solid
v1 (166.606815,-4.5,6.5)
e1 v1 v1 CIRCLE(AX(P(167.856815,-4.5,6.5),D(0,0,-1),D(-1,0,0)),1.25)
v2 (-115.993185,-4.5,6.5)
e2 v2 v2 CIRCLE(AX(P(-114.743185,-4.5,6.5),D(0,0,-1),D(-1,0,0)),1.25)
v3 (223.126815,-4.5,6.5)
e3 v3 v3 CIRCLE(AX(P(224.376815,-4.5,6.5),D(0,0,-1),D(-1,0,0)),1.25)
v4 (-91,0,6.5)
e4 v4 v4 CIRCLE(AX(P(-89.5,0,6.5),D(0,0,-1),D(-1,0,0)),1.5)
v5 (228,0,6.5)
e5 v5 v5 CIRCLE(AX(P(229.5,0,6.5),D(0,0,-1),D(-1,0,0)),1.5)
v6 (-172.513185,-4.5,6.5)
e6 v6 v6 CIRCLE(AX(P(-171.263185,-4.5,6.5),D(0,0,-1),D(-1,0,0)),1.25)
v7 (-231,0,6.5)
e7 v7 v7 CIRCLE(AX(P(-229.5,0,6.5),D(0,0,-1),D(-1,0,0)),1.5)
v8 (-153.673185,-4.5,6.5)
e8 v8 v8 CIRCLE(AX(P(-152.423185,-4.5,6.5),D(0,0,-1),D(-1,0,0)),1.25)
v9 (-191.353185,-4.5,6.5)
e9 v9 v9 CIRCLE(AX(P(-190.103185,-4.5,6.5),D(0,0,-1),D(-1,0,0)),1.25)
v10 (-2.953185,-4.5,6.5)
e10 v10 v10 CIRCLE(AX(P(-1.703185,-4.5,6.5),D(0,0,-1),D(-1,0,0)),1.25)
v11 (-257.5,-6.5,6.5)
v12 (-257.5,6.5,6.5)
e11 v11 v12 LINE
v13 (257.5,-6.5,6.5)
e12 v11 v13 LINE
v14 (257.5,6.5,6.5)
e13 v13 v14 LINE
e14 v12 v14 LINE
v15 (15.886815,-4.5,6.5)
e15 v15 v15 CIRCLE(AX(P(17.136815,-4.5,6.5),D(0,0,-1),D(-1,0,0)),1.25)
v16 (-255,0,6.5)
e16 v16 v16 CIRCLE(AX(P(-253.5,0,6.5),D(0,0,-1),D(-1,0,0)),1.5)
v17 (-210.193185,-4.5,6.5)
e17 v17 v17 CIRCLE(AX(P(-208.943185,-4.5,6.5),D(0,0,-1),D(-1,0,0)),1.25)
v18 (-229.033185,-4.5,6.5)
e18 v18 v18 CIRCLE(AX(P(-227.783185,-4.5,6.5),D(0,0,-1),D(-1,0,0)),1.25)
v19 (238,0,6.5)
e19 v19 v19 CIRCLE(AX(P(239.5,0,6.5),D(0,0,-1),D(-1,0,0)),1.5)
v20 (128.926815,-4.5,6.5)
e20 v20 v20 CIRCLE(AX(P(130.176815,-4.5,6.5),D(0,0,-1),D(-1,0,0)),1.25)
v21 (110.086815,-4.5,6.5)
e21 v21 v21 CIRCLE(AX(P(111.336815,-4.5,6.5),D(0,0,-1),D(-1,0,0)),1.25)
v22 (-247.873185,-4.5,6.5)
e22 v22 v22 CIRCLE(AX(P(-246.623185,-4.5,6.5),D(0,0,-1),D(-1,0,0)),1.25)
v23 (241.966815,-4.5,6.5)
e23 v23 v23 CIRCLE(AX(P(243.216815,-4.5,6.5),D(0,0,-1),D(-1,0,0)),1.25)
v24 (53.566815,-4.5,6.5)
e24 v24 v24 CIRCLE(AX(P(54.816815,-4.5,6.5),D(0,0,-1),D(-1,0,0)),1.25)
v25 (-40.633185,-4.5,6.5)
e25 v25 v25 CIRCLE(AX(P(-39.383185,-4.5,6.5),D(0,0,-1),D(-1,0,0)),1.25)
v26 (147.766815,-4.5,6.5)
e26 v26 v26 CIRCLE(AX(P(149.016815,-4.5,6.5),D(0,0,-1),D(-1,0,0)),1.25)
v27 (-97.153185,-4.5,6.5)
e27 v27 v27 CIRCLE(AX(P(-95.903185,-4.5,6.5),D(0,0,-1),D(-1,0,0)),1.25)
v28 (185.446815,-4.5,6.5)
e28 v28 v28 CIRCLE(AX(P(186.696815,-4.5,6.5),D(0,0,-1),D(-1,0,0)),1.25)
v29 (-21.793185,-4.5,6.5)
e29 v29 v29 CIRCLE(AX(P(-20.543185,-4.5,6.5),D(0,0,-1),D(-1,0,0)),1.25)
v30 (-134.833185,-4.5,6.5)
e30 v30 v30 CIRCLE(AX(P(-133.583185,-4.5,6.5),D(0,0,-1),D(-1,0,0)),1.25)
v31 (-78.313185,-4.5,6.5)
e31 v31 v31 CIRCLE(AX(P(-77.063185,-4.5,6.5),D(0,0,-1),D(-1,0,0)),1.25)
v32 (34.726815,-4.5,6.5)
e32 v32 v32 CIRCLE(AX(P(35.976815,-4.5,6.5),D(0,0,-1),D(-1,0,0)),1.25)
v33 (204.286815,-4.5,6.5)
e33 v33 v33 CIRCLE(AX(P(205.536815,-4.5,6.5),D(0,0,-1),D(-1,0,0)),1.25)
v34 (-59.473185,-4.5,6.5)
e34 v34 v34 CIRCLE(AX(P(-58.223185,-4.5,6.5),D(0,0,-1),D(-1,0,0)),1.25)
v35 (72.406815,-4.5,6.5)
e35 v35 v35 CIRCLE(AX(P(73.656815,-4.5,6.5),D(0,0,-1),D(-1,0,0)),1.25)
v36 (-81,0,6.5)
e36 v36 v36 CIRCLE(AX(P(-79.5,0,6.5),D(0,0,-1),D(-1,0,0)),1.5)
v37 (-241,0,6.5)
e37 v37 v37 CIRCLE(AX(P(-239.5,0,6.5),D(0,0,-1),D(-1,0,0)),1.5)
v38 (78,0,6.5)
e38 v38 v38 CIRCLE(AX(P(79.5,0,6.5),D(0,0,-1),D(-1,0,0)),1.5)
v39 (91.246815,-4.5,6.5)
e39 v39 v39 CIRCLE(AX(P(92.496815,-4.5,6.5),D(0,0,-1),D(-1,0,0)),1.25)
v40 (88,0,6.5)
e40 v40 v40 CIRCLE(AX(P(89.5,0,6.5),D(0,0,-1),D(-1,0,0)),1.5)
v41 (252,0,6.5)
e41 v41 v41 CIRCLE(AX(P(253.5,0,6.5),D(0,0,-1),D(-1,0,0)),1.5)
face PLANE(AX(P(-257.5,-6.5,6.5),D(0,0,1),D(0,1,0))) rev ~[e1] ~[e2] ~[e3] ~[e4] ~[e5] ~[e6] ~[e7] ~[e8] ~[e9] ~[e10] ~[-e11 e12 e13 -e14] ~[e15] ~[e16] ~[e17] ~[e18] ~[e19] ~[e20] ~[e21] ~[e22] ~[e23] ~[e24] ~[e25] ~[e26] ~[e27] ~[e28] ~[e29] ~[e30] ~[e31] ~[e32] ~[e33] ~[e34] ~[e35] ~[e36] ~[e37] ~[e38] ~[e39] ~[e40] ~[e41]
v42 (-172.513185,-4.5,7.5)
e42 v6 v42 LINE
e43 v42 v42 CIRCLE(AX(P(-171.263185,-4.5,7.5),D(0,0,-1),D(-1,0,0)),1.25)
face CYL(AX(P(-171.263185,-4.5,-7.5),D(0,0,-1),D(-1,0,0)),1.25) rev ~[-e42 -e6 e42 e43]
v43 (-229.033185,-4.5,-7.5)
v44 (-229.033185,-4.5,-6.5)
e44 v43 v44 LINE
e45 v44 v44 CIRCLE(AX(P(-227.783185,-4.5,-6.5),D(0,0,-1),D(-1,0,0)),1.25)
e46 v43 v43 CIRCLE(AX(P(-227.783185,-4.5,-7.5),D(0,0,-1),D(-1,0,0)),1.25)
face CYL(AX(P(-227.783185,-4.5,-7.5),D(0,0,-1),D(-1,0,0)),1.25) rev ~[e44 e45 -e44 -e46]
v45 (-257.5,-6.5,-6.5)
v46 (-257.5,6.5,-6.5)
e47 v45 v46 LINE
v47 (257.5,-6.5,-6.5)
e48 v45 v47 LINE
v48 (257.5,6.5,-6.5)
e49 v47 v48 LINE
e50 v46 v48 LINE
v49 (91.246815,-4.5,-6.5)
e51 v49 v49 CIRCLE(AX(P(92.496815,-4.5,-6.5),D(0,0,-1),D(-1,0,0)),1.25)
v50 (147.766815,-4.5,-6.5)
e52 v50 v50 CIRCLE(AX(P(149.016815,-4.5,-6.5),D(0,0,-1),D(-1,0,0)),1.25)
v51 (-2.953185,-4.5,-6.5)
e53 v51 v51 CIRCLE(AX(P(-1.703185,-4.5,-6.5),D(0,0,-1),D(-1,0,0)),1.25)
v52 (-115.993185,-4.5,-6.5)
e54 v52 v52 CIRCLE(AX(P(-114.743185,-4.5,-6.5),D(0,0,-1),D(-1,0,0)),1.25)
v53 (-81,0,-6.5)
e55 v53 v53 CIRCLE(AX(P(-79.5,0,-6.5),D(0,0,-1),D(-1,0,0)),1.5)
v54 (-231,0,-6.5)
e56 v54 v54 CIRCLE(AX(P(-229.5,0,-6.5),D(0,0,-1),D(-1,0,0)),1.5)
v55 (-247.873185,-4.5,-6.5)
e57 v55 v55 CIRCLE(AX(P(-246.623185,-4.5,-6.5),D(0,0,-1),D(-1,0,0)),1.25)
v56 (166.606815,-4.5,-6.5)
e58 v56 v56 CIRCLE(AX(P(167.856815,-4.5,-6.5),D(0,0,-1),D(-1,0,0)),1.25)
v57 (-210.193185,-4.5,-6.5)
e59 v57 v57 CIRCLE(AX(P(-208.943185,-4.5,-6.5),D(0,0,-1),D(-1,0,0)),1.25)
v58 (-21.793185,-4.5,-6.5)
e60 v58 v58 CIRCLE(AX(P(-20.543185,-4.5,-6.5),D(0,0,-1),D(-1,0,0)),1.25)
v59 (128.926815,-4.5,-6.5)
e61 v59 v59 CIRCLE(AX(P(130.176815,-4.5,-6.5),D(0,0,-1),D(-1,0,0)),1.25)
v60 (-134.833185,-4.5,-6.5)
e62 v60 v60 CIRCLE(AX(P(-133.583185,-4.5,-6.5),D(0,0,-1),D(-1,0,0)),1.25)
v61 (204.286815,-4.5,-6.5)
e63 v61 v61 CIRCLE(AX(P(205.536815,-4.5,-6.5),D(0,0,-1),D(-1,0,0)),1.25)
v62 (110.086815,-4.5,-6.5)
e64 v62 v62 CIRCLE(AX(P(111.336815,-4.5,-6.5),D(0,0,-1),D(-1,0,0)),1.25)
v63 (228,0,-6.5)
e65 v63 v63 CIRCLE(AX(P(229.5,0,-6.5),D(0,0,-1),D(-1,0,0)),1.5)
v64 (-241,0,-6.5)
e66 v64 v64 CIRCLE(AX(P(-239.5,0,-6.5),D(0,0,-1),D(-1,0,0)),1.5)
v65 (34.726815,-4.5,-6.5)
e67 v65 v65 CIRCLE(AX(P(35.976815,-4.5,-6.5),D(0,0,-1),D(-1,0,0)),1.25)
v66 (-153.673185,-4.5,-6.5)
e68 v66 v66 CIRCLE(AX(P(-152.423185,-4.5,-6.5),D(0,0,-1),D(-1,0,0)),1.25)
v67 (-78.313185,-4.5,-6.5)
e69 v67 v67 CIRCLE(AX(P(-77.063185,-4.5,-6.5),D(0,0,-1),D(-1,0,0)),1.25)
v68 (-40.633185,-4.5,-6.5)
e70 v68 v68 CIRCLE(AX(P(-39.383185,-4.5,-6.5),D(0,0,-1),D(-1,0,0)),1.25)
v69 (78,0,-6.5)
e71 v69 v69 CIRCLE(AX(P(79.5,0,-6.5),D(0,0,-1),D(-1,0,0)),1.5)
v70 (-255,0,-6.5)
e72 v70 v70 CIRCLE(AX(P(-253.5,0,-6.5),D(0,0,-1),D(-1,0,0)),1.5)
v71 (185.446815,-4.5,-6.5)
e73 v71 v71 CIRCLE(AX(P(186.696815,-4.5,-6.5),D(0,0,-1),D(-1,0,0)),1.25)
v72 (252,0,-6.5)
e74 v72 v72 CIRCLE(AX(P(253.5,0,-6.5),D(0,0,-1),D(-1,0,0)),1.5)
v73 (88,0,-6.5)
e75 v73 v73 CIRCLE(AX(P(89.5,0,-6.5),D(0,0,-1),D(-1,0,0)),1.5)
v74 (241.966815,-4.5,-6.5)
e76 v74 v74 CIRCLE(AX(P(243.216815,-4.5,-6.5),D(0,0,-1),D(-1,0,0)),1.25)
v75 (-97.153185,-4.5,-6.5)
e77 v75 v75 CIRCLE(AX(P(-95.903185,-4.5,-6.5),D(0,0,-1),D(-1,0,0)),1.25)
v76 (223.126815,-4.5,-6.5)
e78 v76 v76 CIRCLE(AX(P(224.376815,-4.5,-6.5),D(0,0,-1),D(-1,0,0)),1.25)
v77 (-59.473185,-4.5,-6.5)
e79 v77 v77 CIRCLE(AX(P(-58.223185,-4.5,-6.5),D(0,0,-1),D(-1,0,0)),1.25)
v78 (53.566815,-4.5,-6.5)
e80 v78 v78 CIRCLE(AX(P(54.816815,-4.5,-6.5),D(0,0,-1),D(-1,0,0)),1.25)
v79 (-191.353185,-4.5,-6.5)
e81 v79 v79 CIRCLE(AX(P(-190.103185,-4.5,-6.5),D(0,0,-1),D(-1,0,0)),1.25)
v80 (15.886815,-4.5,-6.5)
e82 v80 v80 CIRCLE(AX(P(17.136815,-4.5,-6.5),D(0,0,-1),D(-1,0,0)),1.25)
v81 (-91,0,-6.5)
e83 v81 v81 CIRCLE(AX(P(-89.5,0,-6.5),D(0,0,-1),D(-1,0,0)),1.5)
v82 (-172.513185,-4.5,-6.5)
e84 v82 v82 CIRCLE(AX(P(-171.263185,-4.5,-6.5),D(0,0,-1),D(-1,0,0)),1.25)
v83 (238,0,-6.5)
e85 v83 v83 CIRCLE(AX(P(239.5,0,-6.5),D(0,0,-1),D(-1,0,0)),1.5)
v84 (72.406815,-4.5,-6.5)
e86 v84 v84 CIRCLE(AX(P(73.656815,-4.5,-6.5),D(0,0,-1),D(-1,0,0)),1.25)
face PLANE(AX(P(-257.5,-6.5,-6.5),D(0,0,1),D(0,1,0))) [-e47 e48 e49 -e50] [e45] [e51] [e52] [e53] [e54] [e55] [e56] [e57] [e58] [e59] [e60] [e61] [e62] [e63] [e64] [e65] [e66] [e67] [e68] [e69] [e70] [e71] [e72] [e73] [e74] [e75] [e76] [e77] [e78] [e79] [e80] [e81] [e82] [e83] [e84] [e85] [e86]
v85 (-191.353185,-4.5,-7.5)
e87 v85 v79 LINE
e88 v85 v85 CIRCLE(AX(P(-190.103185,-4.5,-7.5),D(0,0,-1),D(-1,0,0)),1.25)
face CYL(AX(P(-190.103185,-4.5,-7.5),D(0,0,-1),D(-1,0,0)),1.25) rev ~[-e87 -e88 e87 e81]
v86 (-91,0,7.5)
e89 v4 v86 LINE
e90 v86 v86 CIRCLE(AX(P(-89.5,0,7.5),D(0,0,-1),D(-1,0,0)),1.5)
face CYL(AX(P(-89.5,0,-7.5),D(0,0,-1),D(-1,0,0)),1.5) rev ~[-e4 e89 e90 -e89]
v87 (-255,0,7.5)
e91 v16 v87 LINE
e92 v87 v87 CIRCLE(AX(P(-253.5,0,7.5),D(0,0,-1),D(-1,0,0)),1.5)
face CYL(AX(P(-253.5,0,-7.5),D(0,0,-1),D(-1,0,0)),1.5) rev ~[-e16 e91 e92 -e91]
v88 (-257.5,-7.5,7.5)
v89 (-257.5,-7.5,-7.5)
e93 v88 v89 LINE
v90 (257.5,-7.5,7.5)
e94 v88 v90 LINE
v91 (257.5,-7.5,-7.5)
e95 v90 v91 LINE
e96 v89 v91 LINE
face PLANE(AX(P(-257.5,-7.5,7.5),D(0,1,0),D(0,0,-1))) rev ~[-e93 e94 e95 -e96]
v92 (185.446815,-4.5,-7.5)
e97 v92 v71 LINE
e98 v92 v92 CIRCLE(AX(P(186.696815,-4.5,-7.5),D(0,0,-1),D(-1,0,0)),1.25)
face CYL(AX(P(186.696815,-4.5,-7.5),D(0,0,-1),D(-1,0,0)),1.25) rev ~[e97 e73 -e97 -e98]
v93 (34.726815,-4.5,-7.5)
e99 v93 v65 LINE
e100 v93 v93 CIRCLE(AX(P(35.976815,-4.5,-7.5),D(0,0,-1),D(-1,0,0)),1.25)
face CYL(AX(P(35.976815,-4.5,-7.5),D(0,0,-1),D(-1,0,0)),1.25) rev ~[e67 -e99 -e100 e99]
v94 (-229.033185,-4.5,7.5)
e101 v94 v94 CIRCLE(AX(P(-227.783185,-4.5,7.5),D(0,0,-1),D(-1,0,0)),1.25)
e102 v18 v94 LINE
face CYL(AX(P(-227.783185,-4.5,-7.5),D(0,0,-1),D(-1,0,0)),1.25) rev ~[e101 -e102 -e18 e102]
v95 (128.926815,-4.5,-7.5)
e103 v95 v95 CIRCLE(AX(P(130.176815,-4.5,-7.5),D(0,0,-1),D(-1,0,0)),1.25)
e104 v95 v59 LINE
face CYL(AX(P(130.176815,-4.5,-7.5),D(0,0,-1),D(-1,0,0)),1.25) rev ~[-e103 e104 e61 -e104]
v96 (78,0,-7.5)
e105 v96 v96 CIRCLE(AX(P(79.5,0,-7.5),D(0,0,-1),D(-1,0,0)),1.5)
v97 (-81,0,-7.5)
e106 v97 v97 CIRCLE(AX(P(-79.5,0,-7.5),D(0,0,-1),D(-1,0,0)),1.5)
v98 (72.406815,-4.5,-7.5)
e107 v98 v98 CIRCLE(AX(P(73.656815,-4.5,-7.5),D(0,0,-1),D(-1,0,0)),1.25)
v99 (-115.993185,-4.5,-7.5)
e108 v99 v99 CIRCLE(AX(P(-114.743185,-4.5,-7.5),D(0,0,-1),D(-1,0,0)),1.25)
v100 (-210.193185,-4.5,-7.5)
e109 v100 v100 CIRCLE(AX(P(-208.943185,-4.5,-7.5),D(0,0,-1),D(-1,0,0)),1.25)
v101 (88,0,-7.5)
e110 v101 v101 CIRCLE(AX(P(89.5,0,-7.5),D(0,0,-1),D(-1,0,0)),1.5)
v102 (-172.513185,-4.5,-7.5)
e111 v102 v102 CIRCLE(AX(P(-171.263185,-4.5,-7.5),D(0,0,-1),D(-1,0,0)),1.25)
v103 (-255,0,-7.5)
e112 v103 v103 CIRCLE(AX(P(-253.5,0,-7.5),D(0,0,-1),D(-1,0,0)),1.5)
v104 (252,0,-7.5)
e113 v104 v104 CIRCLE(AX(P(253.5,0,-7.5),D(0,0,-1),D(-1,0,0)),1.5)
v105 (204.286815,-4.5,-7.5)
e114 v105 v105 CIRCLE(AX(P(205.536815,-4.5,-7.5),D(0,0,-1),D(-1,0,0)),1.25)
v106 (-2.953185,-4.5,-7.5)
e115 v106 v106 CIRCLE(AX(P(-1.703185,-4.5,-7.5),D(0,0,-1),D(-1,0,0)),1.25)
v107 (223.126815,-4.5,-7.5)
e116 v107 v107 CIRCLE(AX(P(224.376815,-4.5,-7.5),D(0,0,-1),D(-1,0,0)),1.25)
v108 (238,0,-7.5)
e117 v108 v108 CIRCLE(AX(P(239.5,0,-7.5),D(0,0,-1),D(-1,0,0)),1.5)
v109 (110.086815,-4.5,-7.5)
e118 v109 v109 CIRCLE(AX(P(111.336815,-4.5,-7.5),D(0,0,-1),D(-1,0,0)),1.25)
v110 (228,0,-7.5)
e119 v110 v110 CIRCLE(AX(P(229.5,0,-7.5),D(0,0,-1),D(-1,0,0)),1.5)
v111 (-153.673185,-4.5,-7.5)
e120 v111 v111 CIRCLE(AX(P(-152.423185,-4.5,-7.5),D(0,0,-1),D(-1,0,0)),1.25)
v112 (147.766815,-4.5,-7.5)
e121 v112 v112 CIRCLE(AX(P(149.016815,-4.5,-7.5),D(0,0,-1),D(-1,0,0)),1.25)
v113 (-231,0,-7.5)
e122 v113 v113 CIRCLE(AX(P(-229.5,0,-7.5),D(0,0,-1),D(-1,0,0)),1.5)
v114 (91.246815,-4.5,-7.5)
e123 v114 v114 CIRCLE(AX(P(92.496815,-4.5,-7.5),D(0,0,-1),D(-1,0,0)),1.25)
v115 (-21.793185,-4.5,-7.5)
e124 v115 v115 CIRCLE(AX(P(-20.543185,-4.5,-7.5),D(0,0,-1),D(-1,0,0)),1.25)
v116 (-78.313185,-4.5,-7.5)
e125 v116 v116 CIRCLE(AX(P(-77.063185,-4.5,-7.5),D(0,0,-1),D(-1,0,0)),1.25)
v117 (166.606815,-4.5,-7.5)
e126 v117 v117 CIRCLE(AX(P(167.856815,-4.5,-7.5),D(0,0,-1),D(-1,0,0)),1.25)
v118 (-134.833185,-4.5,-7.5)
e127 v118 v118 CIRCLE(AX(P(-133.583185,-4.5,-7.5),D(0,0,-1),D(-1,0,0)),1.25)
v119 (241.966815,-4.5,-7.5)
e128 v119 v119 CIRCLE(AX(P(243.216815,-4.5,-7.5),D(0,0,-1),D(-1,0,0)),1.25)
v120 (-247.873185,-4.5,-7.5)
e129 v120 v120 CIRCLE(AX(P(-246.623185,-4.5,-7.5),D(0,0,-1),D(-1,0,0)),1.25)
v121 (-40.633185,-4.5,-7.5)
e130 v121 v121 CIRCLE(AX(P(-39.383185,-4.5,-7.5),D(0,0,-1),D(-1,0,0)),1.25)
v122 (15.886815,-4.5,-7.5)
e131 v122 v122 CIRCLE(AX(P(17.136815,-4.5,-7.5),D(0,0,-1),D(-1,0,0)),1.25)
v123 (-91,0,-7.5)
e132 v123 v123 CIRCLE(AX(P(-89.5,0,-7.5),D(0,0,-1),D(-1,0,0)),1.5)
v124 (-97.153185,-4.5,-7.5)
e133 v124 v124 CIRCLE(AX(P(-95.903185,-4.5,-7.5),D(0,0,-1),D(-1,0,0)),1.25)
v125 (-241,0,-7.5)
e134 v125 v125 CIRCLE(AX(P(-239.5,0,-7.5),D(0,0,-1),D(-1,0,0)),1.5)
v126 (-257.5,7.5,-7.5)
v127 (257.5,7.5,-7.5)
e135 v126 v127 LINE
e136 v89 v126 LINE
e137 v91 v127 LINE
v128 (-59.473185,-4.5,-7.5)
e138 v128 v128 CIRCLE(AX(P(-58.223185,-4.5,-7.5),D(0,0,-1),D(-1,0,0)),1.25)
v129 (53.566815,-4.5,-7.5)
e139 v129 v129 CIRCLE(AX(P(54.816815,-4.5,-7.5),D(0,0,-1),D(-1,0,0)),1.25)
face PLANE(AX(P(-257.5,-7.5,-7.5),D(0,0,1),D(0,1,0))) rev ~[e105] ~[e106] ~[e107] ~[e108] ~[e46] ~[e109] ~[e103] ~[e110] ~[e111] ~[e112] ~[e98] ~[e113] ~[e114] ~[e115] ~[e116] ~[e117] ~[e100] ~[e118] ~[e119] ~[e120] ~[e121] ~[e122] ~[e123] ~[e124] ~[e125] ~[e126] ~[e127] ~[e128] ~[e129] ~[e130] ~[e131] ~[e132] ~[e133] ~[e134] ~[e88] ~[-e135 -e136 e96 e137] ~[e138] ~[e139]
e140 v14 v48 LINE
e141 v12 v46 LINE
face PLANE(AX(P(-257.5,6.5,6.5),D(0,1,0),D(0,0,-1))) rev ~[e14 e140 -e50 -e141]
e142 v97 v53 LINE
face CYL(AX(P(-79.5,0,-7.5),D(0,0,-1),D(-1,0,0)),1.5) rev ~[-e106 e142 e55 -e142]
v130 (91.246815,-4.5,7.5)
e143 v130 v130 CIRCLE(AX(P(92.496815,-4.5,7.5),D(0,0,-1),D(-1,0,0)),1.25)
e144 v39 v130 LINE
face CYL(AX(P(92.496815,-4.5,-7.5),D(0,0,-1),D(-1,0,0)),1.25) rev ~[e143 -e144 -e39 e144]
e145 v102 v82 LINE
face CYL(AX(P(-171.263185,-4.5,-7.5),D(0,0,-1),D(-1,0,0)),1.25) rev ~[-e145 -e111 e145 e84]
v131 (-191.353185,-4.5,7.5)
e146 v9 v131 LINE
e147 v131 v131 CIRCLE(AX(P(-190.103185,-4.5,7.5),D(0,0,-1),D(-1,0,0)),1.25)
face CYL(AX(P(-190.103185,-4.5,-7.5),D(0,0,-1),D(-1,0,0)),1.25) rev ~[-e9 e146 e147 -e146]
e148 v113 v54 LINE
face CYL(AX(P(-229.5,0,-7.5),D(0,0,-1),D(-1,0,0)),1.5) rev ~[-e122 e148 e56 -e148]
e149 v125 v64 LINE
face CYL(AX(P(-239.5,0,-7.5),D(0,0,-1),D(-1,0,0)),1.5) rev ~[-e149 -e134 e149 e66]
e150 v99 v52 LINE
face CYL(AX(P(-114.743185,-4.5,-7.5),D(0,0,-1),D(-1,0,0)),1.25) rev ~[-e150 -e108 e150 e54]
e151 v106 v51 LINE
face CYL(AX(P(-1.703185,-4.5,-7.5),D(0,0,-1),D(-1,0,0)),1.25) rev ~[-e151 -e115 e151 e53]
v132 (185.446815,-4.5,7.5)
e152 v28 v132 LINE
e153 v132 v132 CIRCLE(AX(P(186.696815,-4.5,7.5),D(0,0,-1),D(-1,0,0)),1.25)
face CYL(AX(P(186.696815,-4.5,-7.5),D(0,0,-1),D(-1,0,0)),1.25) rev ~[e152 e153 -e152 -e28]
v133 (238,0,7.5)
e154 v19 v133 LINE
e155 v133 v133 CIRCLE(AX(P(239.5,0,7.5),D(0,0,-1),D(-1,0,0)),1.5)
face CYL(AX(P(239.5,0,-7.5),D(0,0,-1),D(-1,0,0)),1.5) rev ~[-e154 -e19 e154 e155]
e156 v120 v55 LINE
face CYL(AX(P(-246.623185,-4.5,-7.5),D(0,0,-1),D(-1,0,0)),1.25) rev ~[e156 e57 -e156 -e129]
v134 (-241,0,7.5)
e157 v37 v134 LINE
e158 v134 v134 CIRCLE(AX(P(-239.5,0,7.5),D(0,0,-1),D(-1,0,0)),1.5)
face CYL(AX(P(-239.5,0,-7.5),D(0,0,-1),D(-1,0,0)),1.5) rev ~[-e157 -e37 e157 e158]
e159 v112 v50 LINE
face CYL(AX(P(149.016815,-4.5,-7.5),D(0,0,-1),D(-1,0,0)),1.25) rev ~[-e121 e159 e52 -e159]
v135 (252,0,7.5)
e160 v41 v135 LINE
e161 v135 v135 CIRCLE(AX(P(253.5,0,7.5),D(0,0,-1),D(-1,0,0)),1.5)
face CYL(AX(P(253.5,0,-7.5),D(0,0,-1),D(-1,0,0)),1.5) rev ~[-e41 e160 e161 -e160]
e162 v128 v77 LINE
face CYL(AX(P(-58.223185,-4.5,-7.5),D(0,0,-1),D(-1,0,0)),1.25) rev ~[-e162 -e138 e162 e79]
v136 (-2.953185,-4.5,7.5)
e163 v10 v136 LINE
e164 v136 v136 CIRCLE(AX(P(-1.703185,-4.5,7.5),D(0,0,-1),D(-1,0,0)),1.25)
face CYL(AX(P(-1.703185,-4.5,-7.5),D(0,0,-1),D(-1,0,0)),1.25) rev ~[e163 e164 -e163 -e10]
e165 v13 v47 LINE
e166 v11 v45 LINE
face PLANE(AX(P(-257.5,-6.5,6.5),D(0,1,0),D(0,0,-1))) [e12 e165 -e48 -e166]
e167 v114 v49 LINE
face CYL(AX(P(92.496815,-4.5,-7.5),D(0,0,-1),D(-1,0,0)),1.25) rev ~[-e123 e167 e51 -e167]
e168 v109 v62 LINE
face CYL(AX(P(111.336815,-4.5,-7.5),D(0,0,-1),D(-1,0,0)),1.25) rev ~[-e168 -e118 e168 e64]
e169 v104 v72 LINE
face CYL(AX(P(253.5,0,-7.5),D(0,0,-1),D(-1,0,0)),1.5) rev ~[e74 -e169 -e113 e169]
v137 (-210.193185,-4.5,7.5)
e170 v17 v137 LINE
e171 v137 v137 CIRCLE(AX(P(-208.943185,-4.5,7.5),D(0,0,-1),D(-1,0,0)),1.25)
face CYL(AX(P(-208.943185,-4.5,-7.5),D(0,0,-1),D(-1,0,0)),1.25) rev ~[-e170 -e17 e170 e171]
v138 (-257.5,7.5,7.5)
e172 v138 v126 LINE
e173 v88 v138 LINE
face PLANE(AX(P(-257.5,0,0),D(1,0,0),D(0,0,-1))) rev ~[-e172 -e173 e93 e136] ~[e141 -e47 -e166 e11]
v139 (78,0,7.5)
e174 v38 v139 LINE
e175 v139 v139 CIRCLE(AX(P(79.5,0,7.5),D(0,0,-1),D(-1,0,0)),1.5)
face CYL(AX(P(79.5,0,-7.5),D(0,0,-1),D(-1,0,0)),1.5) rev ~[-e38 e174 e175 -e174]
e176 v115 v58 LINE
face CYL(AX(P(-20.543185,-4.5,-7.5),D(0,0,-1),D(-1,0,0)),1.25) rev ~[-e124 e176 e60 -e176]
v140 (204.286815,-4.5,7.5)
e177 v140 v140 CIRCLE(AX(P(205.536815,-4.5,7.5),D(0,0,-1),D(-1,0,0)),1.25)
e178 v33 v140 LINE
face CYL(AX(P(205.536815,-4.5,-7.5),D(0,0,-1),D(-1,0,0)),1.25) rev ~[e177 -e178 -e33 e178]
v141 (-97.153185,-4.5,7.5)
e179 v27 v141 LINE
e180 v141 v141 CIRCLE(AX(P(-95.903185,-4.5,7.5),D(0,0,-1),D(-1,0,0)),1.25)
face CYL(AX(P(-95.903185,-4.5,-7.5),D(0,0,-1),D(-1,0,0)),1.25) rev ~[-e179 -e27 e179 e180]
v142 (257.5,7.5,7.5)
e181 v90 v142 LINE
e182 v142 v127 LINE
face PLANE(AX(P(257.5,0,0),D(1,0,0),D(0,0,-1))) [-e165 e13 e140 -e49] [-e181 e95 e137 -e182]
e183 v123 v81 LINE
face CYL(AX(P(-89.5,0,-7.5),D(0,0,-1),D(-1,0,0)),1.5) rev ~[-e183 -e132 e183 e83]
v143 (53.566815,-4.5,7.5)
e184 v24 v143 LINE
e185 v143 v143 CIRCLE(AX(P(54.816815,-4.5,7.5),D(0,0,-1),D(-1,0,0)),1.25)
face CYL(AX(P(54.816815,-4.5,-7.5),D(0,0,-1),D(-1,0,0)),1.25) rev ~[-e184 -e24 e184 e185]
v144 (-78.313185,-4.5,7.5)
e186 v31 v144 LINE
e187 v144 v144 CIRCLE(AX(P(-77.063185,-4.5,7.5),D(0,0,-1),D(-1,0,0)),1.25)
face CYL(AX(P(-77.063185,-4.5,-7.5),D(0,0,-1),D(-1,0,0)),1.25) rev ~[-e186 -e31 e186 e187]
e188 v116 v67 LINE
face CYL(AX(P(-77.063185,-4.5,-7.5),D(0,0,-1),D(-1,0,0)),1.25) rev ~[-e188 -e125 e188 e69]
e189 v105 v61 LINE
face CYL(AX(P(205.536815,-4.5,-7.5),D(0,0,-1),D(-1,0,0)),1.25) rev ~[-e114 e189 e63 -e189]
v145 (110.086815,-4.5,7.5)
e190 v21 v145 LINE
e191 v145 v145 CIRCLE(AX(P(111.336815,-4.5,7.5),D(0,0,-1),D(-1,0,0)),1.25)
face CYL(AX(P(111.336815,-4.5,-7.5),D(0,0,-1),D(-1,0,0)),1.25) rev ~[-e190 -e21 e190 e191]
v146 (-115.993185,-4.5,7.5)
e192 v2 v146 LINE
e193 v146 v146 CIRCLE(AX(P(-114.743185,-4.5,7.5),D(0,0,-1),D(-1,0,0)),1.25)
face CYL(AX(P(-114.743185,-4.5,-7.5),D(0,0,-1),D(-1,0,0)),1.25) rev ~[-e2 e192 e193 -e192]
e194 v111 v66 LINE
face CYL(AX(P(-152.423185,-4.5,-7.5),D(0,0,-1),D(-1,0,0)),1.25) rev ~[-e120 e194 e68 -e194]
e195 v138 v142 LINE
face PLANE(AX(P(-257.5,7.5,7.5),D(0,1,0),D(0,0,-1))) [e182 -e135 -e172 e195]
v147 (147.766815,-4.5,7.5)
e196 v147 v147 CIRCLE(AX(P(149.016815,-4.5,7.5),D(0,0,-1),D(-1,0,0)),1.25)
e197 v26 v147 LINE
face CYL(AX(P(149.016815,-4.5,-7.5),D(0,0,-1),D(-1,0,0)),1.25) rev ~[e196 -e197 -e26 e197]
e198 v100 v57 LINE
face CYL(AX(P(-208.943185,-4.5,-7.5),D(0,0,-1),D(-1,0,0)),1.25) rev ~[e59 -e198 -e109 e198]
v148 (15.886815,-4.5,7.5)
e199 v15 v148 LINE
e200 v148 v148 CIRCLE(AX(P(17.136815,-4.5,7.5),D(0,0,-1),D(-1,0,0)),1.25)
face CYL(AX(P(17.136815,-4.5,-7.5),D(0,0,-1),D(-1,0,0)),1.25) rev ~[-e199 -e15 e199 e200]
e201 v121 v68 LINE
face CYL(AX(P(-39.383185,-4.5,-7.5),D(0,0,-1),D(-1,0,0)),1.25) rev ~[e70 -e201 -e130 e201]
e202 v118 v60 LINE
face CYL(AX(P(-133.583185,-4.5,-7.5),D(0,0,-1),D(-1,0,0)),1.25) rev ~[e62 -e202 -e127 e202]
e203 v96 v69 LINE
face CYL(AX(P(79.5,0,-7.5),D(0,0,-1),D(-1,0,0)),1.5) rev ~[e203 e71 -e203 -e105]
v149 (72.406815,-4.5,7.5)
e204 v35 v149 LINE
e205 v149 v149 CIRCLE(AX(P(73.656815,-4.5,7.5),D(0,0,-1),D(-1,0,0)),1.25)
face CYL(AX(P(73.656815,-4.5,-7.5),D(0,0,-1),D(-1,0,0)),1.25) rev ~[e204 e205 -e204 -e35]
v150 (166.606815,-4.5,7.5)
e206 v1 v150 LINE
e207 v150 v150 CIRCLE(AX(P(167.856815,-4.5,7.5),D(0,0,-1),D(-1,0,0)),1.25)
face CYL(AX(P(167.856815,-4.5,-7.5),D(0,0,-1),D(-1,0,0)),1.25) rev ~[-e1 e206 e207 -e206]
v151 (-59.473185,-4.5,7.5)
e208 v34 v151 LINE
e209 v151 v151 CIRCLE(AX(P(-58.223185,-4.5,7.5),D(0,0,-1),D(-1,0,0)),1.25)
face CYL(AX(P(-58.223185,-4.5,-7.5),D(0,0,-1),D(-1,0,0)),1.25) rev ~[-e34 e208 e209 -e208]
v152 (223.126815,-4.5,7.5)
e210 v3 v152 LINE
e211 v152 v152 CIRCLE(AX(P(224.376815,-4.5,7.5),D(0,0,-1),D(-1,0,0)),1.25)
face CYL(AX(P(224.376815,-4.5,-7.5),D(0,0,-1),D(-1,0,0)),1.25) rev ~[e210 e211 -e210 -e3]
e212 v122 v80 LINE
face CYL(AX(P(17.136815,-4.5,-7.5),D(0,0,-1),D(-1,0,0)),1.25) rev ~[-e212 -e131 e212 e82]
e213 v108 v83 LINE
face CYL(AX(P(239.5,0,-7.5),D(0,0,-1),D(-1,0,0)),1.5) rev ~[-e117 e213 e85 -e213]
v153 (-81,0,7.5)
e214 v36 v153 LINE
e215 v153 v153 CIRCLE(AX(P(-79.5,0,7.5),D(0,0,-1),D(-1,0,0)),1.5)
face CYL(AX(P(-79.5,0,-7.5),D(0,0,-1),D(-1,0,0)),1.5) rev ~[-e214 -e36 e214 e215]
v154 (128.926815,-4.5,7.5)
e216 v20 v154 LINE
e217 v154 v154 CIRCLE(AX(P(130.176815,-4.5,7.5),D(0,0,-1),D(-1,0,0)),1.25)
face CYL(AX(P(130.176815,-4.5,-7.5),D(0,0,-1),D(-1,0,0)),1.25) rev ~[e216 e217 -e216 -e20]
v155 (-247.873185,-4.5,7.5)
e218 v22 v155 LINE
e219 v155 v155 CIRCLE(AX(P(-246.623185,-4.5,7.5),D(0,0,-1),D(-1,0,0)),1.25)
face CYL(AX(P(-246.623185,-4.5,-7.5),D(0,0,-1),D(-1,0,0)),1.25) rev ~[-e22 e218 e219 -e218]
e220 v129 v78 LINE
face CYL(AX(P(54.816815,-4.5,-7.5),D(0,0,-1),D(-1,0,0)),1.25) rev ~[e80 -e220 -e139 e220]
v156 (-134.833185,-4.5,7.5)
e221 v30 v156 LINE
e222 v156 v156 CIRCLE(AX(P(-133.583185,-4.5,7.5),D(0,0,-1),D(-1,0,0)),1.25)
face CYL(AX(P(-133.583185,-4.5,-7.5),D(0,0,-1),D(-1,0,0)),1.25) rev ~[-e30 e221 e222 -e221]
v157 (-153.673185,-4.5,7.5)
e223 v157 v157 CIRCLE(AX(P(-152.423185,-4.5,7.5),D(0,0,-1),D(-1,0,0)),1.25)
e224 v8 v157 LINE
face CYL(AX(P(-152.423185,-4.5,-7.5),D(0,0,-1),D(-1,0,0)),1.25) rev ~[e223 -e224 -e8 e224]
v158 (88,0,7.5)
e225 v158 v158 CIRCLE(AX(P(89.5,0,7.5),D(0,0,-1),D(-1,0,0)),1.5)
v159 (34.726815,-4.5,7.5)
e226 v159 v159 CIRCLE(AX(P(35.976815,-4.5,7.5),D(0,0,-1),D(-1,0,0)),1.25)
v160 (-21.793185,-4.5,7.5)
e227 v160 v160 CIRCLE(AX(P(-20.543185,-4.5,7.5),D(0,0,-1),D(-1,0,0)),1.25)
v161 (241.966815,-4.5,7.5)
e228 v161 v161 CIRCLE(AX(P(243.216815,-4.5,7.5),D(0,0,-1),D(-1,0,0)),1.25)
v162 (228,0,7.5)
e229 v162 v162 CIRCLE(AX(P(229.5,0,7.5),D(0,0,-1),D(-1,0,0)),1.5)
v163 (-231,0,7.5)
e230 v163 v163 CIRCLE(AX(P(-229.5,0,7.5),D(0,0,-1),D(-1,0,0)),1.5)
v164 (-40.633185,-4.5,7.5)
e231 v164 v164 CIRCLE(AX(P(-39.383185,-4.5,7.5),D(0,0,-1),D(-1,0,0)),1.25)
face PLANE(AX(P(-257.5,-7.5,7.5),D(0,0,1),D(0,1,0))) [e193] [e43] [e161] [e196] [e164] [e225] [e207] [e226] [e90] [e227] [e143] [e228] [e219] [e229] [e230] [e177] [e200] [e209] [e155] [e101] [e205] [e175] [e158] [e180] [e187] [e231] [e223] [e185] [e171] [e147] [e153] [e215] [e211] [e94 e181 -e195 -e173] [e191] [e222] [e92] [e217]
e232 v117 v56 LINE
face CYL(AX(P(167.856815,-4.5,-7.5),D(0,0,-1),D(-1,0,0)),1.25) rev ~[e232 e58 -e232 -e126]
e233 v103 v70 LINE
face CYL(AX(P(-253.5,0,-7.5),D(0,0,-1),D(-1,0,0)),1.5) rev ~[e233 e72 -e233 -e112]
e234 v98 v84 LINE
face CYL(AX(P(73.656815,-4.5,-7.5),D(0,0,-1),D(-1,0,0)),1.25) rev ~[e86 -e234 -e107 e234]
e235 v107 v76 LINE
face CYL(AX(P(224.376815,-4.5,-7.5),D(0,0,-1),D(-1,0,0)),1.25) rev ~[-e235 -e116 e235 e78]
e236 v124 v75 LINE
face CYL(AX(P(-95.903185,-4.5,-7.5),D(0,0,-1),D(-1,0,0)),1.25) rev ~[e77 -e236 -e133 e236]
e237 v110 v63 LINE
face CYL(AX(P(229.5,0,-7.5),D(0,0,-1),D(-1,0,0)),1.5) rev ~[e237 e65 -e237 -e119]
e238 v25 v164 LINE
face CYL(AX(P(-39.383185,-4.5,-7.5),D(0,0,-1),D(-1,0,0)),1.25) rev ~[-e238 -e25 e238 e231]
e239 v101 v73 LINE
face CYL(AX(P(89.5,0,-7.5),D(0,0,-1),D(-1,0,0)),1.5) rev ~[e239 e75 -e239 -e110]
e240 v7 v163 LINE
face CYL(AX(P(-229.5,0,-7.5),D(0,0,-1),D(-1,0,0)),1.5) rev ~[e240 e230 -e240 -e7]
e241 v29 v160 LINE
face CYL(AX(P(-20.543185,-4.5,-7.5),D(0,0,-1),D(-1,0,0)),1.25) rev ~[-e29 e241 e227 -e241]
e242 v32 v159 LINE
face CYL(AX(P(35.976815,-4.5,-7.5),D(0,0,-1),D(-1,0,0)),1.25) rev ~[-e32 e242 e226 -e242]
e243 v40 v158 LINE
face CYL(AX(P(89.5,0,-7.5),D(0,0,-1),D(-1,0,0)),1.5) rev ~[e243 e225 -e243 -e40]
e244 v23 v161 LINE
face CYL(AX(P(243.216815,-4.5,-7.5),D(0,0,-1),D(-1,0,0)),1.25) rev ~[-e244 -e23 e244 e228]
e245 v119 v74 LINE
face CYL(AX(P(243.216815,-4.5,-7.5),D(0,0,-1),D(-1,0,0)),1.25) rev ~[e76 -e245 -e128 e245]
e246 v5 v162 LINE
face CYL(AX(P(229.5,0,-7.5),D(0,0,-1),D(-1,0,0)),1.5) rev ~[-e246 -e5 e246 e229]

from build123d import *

# Parameters (mm, degrees)
EXTRUDE_1_DEPTH      = 257.5
EXTRUDE_1_DEPTH_BACK = 257.5
SKETCH_1_W           = 15
SKETCH_1_H           = 15
SKETCH_1_W_2         = 13
SKETCH_1_H_2         = 13
SKETCH_2_R           = 1.25
SKETCH_2_R_2         = 1.5
CUT_EXTRUDE_1_DEPTH  = 259.045538617


with BuildPart() as part:
    # 草图1 → 凸台-拉伸1 (new, two sides: drawn at the far end of the back side and taken through both)
    with BuildSketch(Plane(origin=(0, 0, 0), x_dir=(0, 0, -1), z_dir=(1, 0, 0)).offset(-EXTRUDE_1_DEPTH_BACK)):
        Rectangle(SKETCH_1_W, SKETCH_1_H)
        Rectangle(SKETCH_1_W_2, SKETCH_1_H_2, mode=Mode.SUBTRACT)
    extrude(amount=EXTRUDE_1_DEPTH + EXTRUDE_1_DEPTH_BACK)

    # 草图2 → 切除-拉伸1 (cut, through all)
    with BuildSketch(Plane(origin=(0, 0, -7.5), x_dir=(-1, 0, 0), z_dir=(0, 0, -1))):
        with Locations((-243.21681474, -4.5)):
            Circle(SKETCH_2_R)
        with Locations((-253.5, 0)):
            Circle(SKETCH_2_R_2)
        with Locations((253.5, 0)):
            Circle(SKETCH_2_R_2)
        with Locations((-239.5, 0)):
            Circle(SKETCH_2_R_2)
        with Locations((-229.5, 0)):
            Circle(SKETCH_2_R_2)
        with Locations((229.5, 0)):
            Circle(SKETCH_2_R_2)
        with Locations((239.5, 0)):
            Circle(SKETCH_2_R_2)
        with Locations((-89.5, 0)):
            Circle(SKETCH_2_R_2)
        with Locations((-79.5, 0)):
            Circle(SKETCH_2_R_2)
        with Locations((79.5, 0)):
            Circle(SKETCH_2_R_2)
        with Locations((89.5, 0)):
            Circle(SKETCH_2_R_2)
        with Locations((-224.37681474, -4.5)):
            Circle(SKETCH_2_R)
        with Locations((-205.53681474, -4.5)):
            Circle(SKETCH_2_R)
        with Locations((-186.69681474, -4.5)):
            Circle(SKETCH_2_R)
        with Locations((-167.85681474, -4.5)):
            Circle(SKETCH_2_R)
        with Locations((-149.01681474, -4.5)):
            Circle(SKETCH_2_R)
        with Locations((-130.17681474, -4.5)):
            Circle(SKETCH_2_R)
        with Locations((-111.33681474, -4.5)):
            Circle(SKETCH_2_R)
        with Locations((-92.49681474, -4.5)):
            Circle(SKETCH_2_R)
        with Locations((-73.65681474, -4.5)):
            Circle(SKETCH_2_R)
        with Locations((-54.81681474, -4.5)):
            Circle(SKETCH_2_R)
        with Locations((-35.97681474, -4.5)):
            Circle(SKETCH_2_R)
        with Locations((-17.13681474, -4.5)):
            Circle(SKETCH_2_R)
        with Locations((1.70318526, -4.5)):
            Circle(SKETCH_2_R)
        with Locations((20.54318526, -4.5)):
            Circle(SKETCH_2_R)
        with Locations((39.38318526, -4.5)):
            Circle(SKETCH_2_R)
        with Locations((58.22318526, -4.5)):
            Circle(SKETCH_2_R)
        with Locations((77.06318526, -4.5)):
            Circle(SKETCH_2_R)
        with Locations((95.90318526, -4.5)):
            Circle(SKETCH_2_R)
        with Locations((114.74318526, -4.5)):
            Circle(SKETCH_2_R)
        with Locations((133.58318526, -4.5)):
            Circle(SKETCH_2_R)
        with Locations((152.42318526, -4.5)):
            Circle(SKETCH_2_R)
        with Locations((171.26318526, -4.5)):
            Circle(SKETCH_2_R)
        with Locations((190.10318526, -4.5)):
            Circle(SKETCH_2_R)
        with Locations((208.94318526, -4.5)):
            Circle(SKETCH_2_R)
        with Locations((227.78318526, -4.5)):
            Circle(SKETCH_2_R)
        with Locations((246.62318526, -4.5)):
            Circle(SKETCH_2_R)
        with Locations((265.46318526, -4.5)):
            Circle(SKETCH_2_R)
        with Locations((284.30318526, -4.5)):
            Circle(SKETCH_2_R)
        with Locations((303.14318526, -4.5)):
            Circle(SKETCH_2_R)
    extrude(amount=-CUT_EXTRUDE_1_DEPTH, mode=Mode.SUBTRACT)


solid = part.part
